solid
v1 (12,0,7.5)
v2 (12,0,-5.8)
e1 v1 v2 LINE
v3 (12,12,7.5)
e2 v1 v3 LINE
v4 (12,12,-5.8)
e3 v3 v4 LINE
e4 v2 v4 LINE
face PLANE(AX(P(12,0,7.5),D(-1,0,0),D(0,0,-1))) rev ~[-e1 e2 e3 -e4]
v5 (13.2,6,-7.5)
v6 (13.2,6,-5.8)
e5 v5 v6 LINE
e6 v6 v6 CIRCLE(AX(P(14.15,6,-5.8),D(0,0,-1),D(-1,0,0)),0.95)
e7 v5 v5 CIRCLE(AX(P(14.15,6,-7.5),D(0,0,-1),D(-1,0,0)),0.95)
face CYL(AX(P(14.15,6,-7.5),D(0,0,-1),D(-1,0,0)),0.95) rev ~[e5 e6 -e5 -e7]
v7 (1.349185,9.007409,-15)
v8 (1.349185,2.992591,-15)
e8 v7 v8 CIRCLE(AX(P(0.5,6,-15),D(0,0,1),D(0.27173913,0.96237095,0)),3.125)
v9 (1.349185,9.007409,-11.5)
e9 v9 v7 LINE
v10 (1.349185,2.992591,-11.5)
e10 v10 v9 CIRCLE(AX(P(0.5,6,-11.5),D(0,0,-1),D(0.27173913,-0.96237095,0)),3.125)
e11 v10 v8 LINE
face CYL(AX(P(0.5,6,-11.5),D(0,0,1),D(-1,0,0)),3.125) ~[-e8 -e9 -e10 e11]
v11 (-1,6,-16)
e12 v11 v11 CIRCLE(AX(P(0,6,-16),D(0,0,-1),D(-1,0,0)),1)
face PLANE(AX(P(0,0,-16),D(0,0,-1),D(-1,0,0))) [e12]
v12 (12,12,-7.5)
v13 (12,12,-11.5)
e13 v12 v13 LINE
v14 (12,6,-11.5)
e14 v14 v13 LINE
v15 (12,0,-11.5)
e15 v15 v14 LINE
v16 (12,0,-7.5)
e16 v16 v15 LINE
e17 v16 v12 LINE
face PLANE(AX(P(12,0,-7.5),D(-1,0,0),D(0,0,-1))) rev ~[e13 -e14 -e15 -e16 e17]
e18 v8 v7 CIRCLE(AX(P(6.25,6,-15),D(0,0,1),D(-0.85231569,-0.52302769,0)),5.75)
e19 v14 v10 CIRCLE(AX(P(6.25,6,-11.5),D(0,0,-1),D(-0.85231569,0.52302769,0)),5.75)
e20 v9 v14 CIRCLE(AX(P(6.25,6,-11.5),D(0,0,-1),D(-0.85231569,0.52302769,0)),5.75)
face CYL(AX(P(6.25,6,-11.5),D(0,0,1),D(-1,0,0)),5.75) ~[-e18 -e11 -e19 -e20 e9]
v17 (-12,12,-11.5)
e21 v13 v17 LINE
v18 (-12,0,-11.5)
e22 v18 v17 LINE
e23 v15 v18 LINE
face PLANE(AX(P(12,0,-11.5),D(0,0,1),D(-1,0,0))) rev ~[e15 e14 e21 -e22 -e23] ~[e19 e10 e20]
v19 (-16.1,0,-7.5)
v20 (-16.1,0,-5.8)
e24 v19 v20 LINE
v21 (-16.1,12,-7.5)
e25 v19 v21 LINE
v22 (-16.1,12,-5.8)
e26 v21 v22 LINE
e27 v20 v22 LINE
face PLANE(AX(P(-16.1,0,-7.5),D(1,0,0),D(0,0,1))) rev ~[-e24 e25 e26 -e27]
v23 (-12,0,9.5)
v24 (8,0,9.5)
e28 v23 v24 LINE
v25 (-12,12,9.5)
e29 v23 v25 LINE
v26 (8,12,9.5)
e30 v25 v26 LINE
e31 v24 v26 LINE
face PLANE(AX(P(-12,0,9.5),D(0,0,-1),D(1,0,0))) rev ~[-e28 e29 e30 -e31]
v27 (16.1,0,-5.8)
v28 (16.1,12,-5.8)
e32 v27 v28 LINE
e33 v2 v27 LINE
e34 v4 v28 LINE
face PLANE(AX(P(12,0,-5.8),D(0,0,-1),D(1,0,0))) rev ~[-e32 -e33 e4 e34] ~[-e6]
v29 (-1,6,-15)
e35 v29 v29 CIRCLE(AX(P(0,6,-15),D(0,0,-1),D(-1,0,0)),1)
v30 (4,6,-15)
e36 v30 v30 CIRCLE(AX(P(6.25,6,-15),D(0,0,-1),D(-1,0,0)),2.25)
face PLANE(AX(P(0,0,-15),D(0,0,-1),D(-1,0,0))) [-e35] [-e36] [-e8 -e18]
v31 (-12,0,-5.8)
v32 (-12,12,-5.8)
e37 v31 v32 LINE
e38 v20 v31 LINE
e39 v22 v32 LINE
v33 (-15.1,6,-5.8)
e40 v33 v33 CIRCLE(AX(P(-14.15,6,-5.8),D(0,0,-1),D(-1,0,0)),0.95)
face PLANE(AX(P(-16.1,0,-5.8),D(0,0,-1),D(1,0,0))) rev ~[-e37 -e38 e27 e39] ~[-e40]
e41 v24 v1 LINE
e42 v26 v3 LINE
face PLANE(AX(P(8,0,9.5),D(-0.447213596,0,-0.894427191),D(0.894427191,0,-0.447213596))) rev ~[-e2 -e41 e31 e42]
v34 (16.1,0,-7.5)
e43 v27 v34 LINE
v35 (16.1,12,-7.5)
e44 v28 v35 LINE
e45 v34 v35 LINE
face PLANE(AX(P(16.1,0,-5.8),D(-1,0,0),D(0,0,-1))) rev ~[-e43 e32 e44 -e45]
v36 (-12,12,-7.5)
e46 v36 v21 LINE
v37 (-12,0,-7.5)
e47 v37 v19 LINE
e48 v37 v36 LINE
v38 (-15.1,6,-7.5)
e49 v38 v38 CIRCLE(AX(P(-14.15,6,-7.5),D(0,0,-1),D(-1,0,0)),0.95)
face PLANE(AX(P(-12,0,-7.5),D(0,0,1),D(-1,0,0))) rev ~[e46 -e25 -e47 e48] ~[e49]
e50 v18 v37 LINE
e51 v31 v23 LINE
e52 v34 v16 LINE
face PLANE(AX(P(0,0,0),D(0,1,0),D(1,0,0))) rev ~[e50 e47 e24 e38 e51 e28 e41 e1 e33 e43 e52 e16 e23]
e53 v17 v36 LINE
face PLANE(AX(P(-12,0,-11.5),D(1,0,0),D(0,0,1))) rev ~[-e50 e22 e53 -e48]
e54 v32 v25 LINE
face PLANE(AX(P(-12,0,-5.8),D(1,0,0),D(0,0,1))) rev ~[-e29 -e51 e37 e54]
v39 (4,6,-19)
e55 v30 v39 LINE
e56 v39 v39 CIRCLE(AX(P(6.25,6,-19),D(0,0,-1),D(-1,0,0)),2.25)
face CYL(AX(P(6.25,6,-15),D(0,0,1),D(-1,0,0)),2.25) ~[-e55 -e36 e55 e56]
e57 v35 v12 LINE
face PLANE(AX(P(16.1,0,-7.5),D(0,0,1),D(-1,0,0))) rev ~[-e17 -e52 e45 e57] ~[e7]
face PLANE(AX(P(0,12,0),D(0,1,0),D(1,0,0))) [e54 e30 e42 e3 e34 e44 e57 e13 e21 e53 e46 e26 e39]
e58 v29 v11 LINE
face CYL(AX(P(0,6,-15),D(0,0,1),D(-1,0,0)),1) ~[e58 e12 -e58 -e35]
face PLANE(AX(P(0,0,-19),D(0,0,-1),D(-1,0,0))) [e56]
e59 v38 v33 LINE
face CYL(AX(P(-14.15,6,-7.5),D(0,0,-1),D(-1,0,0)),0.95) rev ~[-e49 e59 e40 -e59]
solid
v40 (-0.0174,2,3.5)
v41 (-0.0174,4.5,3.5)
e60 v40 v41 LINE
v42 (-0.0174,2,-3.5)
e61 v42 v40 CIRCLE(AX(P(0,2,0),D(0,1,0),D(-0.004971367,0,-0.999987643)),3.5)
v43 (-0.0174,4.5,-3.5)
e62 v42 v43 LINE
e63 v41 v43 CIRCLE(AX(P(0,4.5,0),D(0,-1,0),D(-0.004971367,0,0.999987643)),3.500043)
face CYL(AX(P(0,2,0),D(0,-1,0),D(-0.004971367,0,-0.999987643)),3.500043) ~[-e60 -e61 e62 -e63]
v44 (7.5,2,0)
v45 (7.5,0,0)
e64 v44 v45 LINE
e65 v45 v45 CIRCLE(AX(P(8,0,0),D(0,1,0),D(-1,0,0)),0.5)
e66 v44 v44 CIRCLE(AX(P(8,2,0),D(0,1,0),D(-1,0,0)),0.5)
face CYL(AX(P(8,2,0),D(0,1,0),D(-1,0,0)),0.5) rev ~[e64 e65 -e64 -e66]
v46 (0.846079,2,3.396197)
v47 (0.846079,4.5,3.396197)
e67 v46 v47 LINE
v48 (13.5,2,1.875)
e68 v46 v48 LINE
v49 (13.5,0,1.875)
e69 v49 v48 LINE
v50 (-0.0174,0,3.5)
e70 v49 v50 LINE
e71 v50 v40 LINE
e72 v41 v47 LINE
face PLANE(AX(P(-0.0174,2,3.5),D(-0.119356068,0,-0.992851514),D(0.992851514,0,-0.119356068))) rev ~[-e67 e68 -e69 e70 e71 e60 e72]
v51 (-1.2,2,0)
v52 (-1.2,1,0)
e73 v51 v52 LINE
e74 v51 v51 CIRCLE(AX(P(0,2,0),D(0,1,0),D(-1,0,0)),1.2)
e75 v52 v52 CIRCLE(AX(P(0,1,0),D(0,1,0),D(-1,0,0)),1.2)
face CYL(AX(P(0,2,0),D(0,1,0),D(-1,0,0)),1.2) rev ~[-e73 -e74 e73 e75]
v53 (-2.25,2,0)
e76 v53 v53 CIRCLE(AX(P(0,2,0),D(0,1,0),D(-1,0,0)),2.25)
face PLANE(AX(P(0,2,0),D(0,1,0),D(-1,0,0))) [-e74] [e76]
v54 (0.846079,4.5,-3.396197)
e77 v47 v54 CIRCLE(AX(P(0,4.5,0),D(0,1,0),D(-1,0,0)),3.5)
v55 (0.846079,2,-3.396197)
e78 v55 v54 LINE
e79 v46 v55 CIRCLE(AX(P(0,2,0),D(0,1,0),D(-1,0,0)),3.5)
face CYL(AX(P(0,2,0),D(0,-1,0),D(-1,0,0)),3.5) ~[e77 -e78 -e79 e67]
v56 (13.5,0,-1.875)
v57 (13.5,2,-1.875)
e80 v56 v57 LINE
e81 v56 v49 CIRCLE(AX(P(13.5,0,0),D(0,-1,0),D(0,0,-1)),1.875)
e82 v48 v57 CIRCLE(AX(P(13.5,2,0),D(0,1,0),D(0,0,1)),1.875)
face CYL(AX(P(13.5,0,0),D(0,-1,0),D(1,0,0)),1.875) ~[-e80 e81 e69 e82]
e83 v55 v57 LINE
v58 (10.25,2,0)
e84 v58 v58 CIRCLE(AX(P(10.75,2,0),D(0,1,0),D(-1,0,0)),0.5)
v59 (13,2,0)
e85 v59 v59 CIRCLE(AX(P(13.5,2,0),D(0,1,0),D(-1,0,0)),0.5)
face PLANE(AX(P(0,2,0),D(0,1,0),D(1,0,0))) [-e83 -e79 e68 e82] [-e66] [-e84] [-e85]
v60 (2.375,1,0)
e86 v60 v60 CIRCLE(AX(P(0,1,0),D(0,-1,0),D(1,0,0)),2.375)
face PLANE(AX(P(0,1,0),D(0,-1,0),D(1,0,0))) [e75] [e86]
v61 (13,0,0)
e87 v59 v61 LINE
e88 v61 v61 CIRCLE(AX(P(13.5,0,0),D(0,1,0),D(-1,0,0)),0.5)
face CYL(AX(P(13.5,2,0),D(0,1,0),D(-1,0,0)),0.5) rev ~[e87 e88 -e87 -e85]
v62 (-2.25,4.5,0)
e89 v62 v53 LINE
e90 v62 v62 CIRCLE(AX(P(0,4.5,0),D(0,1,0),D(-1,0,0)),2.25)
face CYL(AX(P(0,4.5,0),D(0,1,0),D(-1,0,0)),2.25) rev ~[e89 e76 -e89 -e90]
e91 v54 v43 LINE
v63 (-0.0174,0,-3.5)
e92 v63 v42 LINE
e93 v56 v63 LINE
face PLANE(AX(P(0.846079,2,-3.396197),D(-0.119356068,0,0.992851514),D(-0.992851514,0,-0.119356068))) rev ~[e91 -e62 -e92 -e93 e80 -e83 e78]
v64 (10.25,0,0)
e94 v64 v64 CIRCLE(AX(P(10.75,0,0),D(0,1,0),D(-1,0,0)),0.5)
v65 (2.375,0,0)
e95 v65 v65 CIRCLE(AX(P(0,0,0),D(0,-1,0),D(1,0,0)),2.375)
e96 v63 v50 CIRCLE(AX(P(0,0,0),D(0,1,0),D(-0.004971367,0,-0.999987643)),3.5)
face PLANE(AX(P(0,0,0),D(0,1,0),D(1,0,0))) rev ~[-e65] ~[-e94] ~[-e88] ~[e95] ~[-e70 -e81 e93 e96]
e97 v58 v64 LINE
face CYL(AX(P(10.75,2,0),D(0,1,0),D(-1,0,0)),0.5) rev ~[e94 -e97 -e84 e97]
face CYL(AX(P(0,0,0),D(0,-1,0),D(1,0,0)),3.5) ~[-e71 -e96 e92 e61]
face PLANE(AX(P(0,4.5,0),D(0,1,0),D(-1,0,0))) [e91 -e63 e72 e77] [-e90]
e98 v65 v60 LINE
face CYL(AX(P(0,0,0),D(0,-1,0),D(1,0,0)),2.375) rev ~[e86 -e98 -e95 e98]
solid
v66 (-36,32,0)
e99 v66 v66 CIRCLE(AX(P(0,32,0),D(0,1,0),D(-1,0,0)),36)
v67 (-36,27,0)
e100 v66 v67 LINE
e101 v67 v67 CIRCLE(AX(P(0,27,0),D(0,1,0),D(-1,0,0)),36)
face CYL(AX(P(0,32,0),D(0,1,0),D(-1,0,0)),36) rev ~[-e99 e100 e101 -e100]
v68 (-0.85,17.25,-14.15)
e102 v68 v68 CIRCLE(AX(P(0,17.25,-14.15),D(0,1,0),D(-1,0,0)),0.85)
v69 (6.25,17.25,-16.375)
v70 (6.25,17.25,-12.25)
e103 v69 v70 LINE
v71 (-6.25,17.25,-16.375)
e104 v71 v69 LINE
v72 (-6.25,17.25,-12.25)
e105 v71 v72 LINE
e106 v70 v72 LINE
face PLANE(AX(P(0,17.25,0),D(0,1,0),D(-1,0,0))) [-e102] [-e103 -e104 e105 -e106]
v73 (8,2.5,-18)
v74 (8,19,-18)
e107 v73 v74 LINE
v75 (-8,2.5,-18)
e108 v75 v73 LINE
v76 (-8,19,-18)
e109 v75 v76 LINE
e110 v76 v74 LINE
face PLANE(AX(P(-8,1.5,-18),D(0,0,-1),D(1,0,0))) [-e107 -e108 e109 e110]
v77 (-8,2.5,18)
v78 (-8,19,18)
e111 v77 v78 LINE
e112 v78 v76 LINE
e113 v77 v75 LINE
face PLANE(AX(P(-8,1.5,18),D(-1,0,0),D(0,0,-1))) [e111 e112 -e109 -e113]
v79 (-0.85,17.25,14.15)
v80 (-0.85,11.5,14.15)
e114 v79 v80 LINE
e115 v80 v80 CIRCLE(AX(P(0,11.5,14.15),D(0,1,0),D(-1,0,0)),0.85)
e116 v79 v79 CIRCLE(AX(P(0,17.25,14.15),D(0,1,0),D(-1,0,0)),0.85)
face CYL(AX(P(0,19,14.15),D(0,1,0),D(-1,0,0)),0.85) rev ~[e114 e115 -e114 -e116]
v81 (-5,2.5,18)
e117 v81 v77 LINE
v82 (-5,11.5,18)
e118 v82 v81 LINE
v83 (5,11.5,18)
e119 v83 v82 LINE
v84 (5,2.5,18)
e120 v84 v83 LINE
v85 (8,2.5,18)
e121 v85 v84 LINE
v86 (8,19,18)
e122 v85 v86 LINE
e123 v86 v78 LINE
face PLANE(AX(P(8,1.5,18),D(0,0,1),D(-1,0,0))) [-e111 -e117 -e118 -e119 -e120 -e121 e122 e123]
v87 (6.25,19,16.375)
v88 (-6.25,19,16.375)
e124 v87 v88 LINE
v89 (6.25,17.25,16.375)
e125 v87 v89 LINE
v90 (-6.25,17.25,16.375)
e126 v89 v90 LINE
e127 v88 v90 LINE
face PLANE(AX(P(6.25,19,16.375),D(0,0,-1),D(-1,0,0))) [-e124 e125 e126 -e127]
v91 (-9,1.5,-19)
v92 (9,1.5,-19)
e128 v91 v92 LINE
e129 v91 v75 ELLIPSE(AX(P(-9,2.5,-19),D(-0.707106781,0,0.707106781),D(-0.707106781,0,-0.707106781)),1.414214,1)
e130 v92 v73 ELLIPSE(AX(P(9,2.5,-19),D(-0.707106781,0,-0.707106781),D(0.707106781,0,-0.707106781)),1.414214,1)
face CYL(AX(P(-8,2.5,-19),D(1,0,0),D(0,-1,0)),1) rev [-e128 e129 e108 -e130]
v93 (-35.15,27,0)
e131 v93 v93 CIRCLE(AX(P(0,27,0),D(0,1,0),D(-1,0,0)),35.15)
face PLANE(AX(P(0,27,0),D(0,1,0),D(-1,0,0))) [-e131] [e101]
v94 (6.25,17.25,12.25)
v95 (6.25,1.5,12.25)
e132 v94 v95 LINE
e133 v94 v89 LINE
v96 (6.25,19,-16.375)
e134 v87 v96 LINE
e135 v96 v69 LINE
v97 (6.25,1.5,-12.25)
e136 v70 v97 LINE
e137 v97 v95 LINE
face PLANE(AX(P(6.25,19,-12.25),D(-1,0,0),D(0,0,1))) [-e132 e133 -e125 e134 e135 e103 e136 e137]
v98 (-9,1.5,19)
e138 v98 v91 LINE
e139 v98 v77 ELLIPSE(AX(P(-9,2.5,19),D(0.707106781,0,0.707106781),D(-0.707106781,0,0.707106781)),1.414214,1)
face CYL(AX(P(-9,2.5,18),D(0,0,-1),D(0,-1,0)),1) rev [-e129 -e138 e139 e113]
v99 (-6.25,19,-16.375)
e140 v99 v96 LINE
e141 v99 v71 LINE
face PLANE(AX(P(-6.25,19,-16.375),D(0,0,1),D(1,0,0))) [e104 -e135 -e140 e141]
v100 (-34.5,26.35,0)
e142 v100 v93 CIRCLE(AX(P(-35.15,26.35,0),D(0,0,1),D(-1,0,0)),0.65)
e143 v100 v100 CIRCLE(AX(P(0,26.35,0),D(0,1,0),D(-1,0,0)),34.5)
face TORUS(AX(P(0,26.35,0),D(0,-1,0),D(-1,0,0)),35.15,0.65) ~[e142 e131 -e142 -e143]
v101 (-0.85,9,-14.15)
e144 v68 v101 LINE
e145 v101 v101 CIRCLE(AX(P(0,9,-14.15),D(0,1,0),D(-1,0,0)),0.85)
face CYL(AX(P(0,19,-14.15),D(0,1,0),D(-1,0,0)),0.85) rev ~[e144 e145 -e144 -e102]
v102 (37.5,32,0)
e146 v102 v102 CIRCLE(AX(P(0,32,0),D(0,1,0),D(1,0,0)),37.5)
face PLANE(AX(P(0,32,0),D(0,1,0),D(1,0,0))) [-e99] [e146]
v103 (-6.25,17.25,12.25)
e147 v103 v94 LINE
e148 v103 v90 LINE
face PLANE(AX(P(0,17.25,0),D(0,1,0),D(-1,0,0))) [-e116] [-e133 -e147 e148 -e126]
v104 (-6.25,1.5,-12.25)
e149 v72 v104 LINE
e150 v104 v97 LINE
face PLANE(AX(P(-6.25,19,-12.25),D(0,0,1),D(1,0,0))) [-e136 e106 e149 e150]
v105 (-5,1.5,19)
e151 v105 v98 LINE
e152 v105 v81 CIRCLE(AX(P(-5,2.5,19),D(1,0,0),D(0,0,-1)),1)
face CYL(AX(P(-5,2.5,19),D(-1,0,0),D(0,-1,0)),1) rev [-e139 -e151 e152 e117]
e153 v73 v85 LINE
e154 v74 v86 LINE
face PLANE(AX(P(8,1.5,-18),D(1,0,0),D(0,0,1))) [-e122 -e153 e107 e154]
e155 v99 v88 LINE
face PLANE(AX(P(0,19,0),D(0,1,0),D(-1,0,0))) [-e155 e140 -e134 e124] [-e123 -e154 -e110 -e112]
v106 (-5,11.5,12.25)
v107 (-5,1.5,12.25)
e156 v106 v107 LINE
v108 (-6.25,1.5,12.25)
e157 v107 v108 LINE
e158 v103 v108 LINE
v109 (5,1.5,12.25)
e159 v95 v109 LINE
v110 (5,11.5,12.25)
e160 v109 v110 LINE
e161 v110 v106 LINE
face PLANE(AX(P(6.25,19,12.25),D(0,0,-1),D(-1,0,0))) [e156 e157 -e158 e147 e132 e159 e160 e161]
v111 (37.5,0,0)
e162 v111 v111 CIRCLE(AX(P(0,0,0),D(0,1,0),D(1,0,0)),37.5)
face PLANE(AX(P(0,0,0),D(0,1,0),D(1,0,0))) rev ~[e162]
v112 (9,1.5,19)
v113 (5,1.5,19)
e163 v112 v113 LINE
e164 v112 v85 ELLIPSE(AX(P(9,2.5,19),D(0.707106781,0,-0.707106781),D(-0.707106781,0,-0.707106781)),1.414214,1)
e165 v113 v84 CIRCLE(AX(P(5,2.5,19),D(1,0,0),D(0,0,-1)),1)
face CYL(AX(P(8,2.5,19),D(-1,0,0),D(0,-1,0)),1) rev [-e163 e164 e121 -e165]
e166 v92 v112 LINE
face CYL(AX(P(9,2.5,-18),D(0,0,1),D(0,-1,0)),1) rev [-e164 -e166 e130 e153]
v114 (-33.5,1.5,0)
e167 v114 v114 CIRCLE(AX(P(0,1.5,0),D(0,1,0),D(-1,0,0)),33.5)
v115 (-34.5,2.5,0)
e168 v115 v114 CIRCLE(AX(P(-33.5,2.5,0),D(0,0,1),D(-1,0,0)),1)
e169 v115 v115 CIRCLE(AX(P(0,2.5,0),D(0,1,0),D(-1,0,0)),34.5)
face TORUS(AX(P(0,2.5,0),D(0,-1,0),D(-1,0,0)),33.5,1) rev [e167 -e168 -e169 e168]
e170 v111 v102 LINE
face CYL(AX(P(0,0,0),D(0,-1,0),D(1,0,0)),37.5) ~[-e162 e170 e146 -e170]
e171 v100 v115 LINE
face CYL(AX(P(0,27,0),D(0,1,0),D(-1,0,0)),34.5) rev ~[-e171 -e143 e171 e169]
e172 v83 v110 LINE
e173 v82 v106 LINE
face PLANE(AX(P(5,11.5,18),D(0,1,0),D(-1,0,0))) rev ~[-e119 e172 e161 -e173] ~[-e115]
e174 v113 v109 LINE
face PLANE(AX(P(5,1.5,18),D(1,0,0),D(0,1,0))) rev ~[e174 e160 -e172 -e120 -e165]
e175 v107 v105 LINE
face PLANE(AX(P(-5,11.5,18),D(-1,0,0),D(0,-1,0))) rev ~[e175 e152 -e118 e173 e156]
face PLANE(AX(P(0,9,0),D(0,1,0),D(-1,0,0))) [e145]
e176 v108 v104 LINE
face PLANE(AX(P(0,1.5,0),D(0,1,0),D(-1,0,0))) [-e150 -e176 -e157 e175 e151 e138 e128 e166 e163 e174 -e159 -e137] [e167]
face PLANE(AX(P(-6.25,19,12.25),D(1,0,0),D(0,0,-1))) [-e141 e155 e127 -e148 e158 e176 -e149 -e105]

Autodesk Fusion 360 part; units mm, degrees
sketch "Sketch1" plane through (0, 0, 0) normal (0, 1, 0) x (1, 0, 0) in component "Emax Servo"
  line L0 (-12, -9.5) -> (8, -9.5)
  line L1 (8, -9.5) -> (12, -7.5)
  line L2 (12, -7.5) -> (12, 5.8)
  line L3 (12, 5.8) -> (16.1, 5.8)
  line L4 (16.1, 5.8) -> (16.1, 7.5)
  line L5 (16.1, 7.5) -> (12, 7.5)
  line L6 (12, 7.5) -> (12, 11.5)
  line L7 (12, 11.5) -> (-12, 11.5)
  line L8 (-12, 11.5) -> (-12, 7.5)
  line L9 (-12, 7.5) -> (-16.1, 7.5)
  line L10 (-16.1, 7.5) -> (-16.1, 5.8)
  line L11 (-16.1, 5.8) -> (-12, 5.8)
  line L12 (-12, 5.8) -> (-12, -9.5)
  dimension "d2" = 24
  dimension "d3" = 20
  dimension "d4" = 4.1
  dimension "d5" = 4
  dimension "d6" = 15.3
  dimension "d7" = 1.7
  dimension "d8" = 12
  dimension "d9" = 11.5
extrude "Extrude1" add sketch "Sketch1" along normal blind 12 makes body 1 in component "Emax Servo"
sketch "Sketch2" plane through (0, 0, -7.5) normal (0, 0, -1) x (-1, 0, 0) in component "Emax Servo"
  line L0 (-16.1, 0) -> (-12, 0)
  line L1 (-12, 0) -> (-12, 12)
  line L2 (-12, 12) -> (-16.1, 12)
  line L3 (-16.1, 12) -> (-16.1, 0)
  circle A0 centre (-14.15, 6) radius 0.95
  line L4 (-14.15, 6) -> (-14.1645, 12) construction
  line L5 (-14.15, 6) -> (-14.1645, 0) construction
  line L6 (-12, 0) -> (12, 0)
  line L7 (0, 15) -> (0, -5) construction
  circle A1 centre (14.15, 6) radius 0.95
  line L8 (14.15, 6) -> (14.1645, 12) construction
  line L9 (14.15, 6) -> (14.1645, 0) construction
  dimension "d12" = 1.9
  dimension "d14" = 1.95
extrude "Extrude2" cut sketch "Sketch2" against normal through all contours A0 | A1 bodies 1 in component "Emax Servo"
sketch "Sketch3" plane through (0, 0, -11.5) normal (0, 0, -1) x (-1, 0, 0) in component "Emax Servo"
  line L0 (-12, 0) -> (12, 0)
  line L1 (12, 0) -> (12, 12)
  line L2 (12, 12) -> (-12, 12)
  line L3 (-12, 12) -> (-12, 0)
  circle A0 centre (-6.25, 6) radius 5.75
  line L4 (12, 6) -> (-12, 6) construction
  circle A1 centre (-0.5, 6) radius 3.125
  dimension "d17" = 11.5
  dimension "d18" = 6.25
extrude "Extrude3" add sketch "Sketch3" along normal blind 3.5 contours A0 A1 | A0 A1 | A0 A1 bodies 1 in component "Emax Servo"
sketch "Sketch4" plane through (0, 0, -15) normal (0, 0, -1) x (-1, 0, 0) in component "Emax Servo"
  arc A0 (-1.3492, 2.9926) -> (-1.3492, 9.0074) centre (-0.5, 6) ccw
  arc A1 (-1.3492, 9.0074) -> (-1.3492, 2.9926) centre (-6.25, 6) ccw
  circle A2 centre (-6.25, 6) radius 2.25
  dimension "d21" = 4.5
extrude "Extrude4" add sketch "Sketch4" along normal blind 4 contours A2 bodies 1 in component "Emax Servo"
sketch "Sketch5" plane through (0, 0, -15) normal (0, 0, -1) x (-1, 0, 0) in component "Emax Servo"
  circle A0 centre (-6.25, 6) radius 2.25
  arc A1 (-1.3492, 2.9926) -> (-1.3492, 9.0074) centre (-0.5, 6) ccw
  arc A2 (-1.3492, 9.0074) -> (-1.3492, 2.9926) centre (-6.25, 6) ccw
  circle A3 centre (0, 6) radius 1
  line L0 (-12, 6) -> (-12, 12)
  dimension "d24" = 2
  dimension "d25" = 12
extrude "Extrude5" add sketch "Sketch5" along normal blind 1 contours A3 bodies 1 in component "Emax Servo"
sketch "Sketch1 (2)" plane through (0, 0, 0) normal (0, 1, 0) x (1, 0, 0) in component "Servo Horn"
  circle A0 centre (0, 0) radius 3.5
  circle A1 centre (13.5, 0) radius 1.875
  line L0 (-0.0174, -3.5) -> (13.5, -1.875)
  line L1 (-5, 0) -> (18, 0)
  line L2 (-0.0174, 3.5) -> (13.5, 1.875)
  dimension "d28" = 7
  dimension "d29" = 3.75
  dimension "d30" = 13.5
extrude "Extrude1'" add sketch "Sketch1 (2)" along normal blind 2 separate body contours A0 L1 L2 | A0 A1 L0 L1 | A0 L0 L1 | A0 A1 L1 L2 | A1 L1 | A1 L1 makes body 2 in component "Servo Horn"
sketch "Sketch2 (2)" plane through (0, 2, 0) normal (0, 1, 0) x (-1, 0, 0) in component "Servo Horn"
  arc A0 (0.0174, -3.5) -> (0.0174, 3.5) centre (0, 0) ccw
  line L0 (0.0174, 3.5) -> (-13.5, 1.875)
  arc A1 (-13.5, 1.875) -> (-13.5, -1.875) centre (-13.5, 0) ccw
  line L1 (-13.5, -1.875) -> (0.0174, -3.5)
  circle A2 centre (0, 0) radius 3.5
  dimension "d33" = 7
extrude "Extrude2'" add sketch "Sketch2 (2)" along normal blind 2.5 contours A0 L0 L1 A2 bodies 2 in component "Servo Horn"
sketch "Sketch3 (2)" plane through (0, 4.5, 0) normal (0, 1, 0) x (-1, 0, 0) in component "Servo Horn"
  arc A0 (0.0174, -3.5) -> (0.0174, 3.5) centre (0, 0) ccw
  line L0 (0.0174, 3.5) -> (-0.8464, 3.3961)
  arc A1 (-0.8464, 3.3961) -> (-0.8464, -3.3961) centre (0, 0) ccw
  line L1 (-0.8464, -3.3961) -> (0.0174, -3.5)
  circle A2 centre (0, 0) radius 2.25
  dimension "d36" = 4.5
extrude "Extrude3'" cut sketch "Sketch3 (2)" against normal up to surface (2.5 mm away) contours A2 bodies 2 in component "Servo Horn"
sketch "Sketch4 (2)" plane through (0, 0, 0) normal (1, 0, 0) x (0, 0, -1) in component "Servo Horn"
sketch "Sketch5 (2)" plane through (0, 2, 0) normal (0, 1, 0) x (-1, 0, 0) in component "Servo Horn"
  circle A0 centre (0, 0) radius 2.25
  circle A1 centre (0, 0) radius 1.2
  dimension "d39" = 2.4
extrude "Extrude4'" cut sketch "Sketch5 (2)" against normal through all contours A1 bodies 2 in component "Servo Horn"
sketch "Sketch6" plane through (0, 0, 0) normal (0, -1, 0) x (1, 0, 0) in component "Servo Horn"
  circle A0 centre (0, 0) radius 1.2
  arc A1 (-0.0174, 3.5) -> (-0.0174, -3.5) centre (0, 0) ccw
  line L0 (-0.0174, -3.5) -> (13.5, -1.875)
  arc A2 (13.5, -1.875) -> (13.5, 1.875) centre (13.5, 0) ccw
  line L1 (13.5, 1.875) -> (-0.0174, 3.5)
  circle A3 centre (0, 0) radius 2.375
  dimension "d41" = 4.75
extrude "Extrude5'" cut sketch "Sketch6" against normal blind 1 contours A3 bodies 2 in component "Servo Horn"
sketch "Sketch7" plane through (0, 2, 0) normal (0, 1, 0) x (-1, 0, 0) in component "Servo Horn"
  arc A0 (-0.8464, 3.3961) -> (-0.8464, -3.3961) centre (0, 0) ccw
  line L0 (-0.8464, 3.3961) -> (-13.5, 1.875)
  arc A1 (-13.5, 1.875) -> (-13.5, -1.875) centre (-13.5, 0) ccw
  line L1 (-13.5, -1.875) -> (-0.8464, -3.3961)
  circle A2 centre (-13.5, 0) radius 0.5
  circle A3 centre (-8, 0) radius 0.5
  circle A4 centre (-10.75, 0) radius 0.5
  dimension "d44" = 1
  dimension "d45" = 1
  dimension "d46" = 1
  dimension "d47" = 2.75
  dimension "d48" = 2.75
extrude "Extrude6" cut sketch "Sketch7" against normal through all contours A2 | A3 | A4 bodies 2 in component "Servo Horn"
sketch "Sketch8" plane through (0, 0, 0) normal (0, 1, 0) x (1, 0, 0) in component "Servo Horn"
sketch "Sketch1 (3)" plane through (0, 0, 0) normal (0, 1, 0) x (1, 0, 0) in component "Base"
  circle A0 centre (0, 0) radius 37.5
  dimension "d50" = 75
extrude "Extrude1''" add sketch "Sketch1 (3)" along normal blind 32 separate body makes body 3 in component "Base"
sketch "Sketch2 (3)" plane through (0, 32, 0) normal (0, 1, 0) x (-1, 0, 0) in component "Base"
  circle A0 centre (0, 0) radius 37.5
  circle A1 centre (0, 0) radius 36
  dimension "d53" = 1.5
extrude "Extrude2''" cut sketch "Sketch2 (3)" against normal blind 5 contours A1 bodies 3 in component "Base"
sketch "Sketch3 (3)" plane through (0, 27, 0) normal (0, 1, 0) x (-1, 0, 0) in component "Base"
  circle A0 centre (0, 0) radius 36
  circle A1 centre (0, 0) radius 34.5
  circle A2 centre (0, 0) radius 37.5
  dimension "d56" = 3
extrude "Extrude3''" cut sketch "Sketch3 (3)" against normal up to surface (25.5 mm away) contours A1 bodies 3 in component "Base"
sketch "Sketch4 (3)" plane through (0, 1.5, 0) normal (0, 1, 0) x (-1, 0, 0) in component "Base"
  circle A0 centre (0, 0) radius 34.5
  line L0 (-8, 18) -> (8, 18)
  line L1 (8, 18) -> (8, -18)
  line L2 (8, -18) -> (-8, -18)
  line L3 (-8, -18) -> (-8, 18)
  line L4 (-8, 18) -> (8, -18) construction
  line L5 (8, 18) -> (-8, -18) construction
  dimension "d59" = 16
  dimension "d60" = 36
extrude "Extrude4''" add sketch "Sketch4 (3)" along normal blind 17.5 contours L0 L1 L2 L3 bodies 3 in component "Base"
sketch "Sketch5 (3)" plane through (0, 19, 0) normal (0, 1, 0) x (-1, 0, 0) in component "Base"
  line L0 (-8, -18) -> (8, -18)
  line L1 (8, -18) -> (8, 18)
  line L2 (8, 18) -> (-8, 18)
  line L3 (-8, 18) -> (-8, -18)
  line L4 (-6.25, 12.25) -> (6.25, 12.25)
  line L5 (6.25, 12.25) -> (6.25, -12.25)
  line L6 (6.25, -12.25) -> (-6.25, -12.25)
  line L7 (-6.25, -12.25) -> (-6.25, 12.25)
  line L8 (-6.25, 12.25) -> (6.25, -12.25) construction
  line L9 (6.25, 12.25) -> (-6.25, -12.25) construction
  dimension "d63" = 24.5
  dimension "d64" = 12.5
extrude "Extrude5''" cut sketch "Sketch5 (3)" against normal up to surface (17.5 mm away) contours L4 L5 L6 L7 bodies 3 in component "Base"
sketch "Sketch6 (2)" plane through (0, 0, 18) normal (0, 0, 1) x (1, 0, 0) in component "Base"
  line L0 (-8, 1.5) -> (8, 1.5)
  line L1 (8, 1.5) -> (8, 19)
  line L2 (8, 19) -> (-8, 19)
  line L3 (-8, 19) -> (-8, 1.5)
sketch "Sketch7 (2)" plane through (0, 0, 18) normal (0, 0, 1) x (1, 0, 0) in component "Base"
  line L0 (-5, 1.5) -> (5, 1.5)
  line L1 (5, 1.5) -> (5, 11.5)
  line L2 (5, 11.5) -> (-5, 11.5)
  line L3 (-5, 11.5) -> (-5, 1.5)
  line L4 (-8, 1.5) -> (8, 1.5)
  line L5 (-6.25, 1.5) -> (6.25, 1.5)
  line L6 (8, 1.5) -> (8, 19)
  line L7 (-8, 19) -> (-8, 1.5)
  dimension "d68" = 10
  dimension "d69" = 3
  dimension "d70" = 3
extrude "Extrude6'" cut sketch "Sketch7 (2)" against normal up to surface (5.75 mm away) bodies 3 in component "Base"
sketch "Sketch8 (2)" plane through (0, 19, 0) normal (0, 1, 0) x (-1, 0, 0) in component "Base"
  line L0 (6.25, -12.25) -> (-6.25, -12.25)
  line L1 (-6.25, -12.25) -> (-6.25, 12.25)
  line L2 (-6.25, 12.25) -> (6.25, 12.25)
  line L3 (6.25, 12.25) -> (6.25, -12.25)
  line L4 (-8, -18) -> (8, -18)
  line L5 (8, -18) -> (8, 18)
  line L6 (8, 18) -> (-8, 18)
  line L7 (-8, 18) -> (-8, -18)
  circle A0 centre (0, -14.15) radius 0.85
  circle A1 centre (0, 14.15) radius 0.85
  dimension "d73" = 1.7
  dimension "d74" = 14.15
  dimension "d75" = 1.7
  dimension "d76" = 14.15
extrude "Extrude7" cut sketch "Sketch8 (2)" against normal blind 10 contours A0 | A1 bodies 3 in component "Base"
sketch "Sketch9" plane through (0, 19, 0) normal (0, 1, 0) x (-1, 0, 0) in component "Base"
  circle A0 centre (0, 14.15) radius 0.85
  circle A1 centre (0, -14.15) radius 0.85
  line L0 (6.25, -12.25) -> (-6.25, -12.25)
  line L1 (-6.25, -12.25) -> (-6.25, 12.25)
  line L2 (-6.25, 12.25) -> (6.25, 12.25)
  line L3 (6.25, 12.25) -> (6.25, -12.25)
  line L4 (-8, -18) -> (8, -18)
  line L5 (8, -18) -> (8, 18)
  line L6 (8, 18) -> (-8, 18)
  line L7 (-8, 18) -> (-8, -18)
  line L8 (-6.25, 16.375) -> (6.25, 16.375)
  line L9 (6.25, 16.375) -> (6.25, -16.375)
  line L10 (6.25, -16.375) -> (-6.25, -16.375)
  line L11 (-6.25, -16.375) -> (-6.25, 16.375)
  line L12 (-6.25, 16.375) -> (6.25, -16.375) construction
  line L13 (6.25, 16.375) -> (-6.25, -16.375) construction
  dimension "d79" = 32.75
  dimension "d80" = 12.5
extrude "Extrude8" cut sketch "Sketch9" against normal blind 1.75 contours L0 L9 L10 L11 | L0 L1 L2 L3 L9 L11 | L2 L8 L9 L11 bodies 3 in component "Base"
fillet "Fillet1" radius 1 6 edges at (6.5, 1.5, 18) (-6.5, 1.5, 18) (-8, 1.5, 0) (32.1653, 1.5, -12.4757) (0, 1.5, -18) (8, 1.5, 0) on bodies 3 in component "Base"
fillet "Fillet2" radius 0.65 1 edges at (32.1653, 27, 12.4757) on bodies 3 in component "Base"
component "Emax Servo" placed x (1, 0, 0) y (0, 1, 0) z (0, 0, 1) at (0, 0, 0)
component "Servo Horn" placed x (1, 0, 0) y (0, 1, 0) z (0, 0, 1) at (0, 0, 0)
component "Base" placed x (1, 0, 0) y (0, 1, 0) z (0, 0, 1) at (0, 0, 0)
